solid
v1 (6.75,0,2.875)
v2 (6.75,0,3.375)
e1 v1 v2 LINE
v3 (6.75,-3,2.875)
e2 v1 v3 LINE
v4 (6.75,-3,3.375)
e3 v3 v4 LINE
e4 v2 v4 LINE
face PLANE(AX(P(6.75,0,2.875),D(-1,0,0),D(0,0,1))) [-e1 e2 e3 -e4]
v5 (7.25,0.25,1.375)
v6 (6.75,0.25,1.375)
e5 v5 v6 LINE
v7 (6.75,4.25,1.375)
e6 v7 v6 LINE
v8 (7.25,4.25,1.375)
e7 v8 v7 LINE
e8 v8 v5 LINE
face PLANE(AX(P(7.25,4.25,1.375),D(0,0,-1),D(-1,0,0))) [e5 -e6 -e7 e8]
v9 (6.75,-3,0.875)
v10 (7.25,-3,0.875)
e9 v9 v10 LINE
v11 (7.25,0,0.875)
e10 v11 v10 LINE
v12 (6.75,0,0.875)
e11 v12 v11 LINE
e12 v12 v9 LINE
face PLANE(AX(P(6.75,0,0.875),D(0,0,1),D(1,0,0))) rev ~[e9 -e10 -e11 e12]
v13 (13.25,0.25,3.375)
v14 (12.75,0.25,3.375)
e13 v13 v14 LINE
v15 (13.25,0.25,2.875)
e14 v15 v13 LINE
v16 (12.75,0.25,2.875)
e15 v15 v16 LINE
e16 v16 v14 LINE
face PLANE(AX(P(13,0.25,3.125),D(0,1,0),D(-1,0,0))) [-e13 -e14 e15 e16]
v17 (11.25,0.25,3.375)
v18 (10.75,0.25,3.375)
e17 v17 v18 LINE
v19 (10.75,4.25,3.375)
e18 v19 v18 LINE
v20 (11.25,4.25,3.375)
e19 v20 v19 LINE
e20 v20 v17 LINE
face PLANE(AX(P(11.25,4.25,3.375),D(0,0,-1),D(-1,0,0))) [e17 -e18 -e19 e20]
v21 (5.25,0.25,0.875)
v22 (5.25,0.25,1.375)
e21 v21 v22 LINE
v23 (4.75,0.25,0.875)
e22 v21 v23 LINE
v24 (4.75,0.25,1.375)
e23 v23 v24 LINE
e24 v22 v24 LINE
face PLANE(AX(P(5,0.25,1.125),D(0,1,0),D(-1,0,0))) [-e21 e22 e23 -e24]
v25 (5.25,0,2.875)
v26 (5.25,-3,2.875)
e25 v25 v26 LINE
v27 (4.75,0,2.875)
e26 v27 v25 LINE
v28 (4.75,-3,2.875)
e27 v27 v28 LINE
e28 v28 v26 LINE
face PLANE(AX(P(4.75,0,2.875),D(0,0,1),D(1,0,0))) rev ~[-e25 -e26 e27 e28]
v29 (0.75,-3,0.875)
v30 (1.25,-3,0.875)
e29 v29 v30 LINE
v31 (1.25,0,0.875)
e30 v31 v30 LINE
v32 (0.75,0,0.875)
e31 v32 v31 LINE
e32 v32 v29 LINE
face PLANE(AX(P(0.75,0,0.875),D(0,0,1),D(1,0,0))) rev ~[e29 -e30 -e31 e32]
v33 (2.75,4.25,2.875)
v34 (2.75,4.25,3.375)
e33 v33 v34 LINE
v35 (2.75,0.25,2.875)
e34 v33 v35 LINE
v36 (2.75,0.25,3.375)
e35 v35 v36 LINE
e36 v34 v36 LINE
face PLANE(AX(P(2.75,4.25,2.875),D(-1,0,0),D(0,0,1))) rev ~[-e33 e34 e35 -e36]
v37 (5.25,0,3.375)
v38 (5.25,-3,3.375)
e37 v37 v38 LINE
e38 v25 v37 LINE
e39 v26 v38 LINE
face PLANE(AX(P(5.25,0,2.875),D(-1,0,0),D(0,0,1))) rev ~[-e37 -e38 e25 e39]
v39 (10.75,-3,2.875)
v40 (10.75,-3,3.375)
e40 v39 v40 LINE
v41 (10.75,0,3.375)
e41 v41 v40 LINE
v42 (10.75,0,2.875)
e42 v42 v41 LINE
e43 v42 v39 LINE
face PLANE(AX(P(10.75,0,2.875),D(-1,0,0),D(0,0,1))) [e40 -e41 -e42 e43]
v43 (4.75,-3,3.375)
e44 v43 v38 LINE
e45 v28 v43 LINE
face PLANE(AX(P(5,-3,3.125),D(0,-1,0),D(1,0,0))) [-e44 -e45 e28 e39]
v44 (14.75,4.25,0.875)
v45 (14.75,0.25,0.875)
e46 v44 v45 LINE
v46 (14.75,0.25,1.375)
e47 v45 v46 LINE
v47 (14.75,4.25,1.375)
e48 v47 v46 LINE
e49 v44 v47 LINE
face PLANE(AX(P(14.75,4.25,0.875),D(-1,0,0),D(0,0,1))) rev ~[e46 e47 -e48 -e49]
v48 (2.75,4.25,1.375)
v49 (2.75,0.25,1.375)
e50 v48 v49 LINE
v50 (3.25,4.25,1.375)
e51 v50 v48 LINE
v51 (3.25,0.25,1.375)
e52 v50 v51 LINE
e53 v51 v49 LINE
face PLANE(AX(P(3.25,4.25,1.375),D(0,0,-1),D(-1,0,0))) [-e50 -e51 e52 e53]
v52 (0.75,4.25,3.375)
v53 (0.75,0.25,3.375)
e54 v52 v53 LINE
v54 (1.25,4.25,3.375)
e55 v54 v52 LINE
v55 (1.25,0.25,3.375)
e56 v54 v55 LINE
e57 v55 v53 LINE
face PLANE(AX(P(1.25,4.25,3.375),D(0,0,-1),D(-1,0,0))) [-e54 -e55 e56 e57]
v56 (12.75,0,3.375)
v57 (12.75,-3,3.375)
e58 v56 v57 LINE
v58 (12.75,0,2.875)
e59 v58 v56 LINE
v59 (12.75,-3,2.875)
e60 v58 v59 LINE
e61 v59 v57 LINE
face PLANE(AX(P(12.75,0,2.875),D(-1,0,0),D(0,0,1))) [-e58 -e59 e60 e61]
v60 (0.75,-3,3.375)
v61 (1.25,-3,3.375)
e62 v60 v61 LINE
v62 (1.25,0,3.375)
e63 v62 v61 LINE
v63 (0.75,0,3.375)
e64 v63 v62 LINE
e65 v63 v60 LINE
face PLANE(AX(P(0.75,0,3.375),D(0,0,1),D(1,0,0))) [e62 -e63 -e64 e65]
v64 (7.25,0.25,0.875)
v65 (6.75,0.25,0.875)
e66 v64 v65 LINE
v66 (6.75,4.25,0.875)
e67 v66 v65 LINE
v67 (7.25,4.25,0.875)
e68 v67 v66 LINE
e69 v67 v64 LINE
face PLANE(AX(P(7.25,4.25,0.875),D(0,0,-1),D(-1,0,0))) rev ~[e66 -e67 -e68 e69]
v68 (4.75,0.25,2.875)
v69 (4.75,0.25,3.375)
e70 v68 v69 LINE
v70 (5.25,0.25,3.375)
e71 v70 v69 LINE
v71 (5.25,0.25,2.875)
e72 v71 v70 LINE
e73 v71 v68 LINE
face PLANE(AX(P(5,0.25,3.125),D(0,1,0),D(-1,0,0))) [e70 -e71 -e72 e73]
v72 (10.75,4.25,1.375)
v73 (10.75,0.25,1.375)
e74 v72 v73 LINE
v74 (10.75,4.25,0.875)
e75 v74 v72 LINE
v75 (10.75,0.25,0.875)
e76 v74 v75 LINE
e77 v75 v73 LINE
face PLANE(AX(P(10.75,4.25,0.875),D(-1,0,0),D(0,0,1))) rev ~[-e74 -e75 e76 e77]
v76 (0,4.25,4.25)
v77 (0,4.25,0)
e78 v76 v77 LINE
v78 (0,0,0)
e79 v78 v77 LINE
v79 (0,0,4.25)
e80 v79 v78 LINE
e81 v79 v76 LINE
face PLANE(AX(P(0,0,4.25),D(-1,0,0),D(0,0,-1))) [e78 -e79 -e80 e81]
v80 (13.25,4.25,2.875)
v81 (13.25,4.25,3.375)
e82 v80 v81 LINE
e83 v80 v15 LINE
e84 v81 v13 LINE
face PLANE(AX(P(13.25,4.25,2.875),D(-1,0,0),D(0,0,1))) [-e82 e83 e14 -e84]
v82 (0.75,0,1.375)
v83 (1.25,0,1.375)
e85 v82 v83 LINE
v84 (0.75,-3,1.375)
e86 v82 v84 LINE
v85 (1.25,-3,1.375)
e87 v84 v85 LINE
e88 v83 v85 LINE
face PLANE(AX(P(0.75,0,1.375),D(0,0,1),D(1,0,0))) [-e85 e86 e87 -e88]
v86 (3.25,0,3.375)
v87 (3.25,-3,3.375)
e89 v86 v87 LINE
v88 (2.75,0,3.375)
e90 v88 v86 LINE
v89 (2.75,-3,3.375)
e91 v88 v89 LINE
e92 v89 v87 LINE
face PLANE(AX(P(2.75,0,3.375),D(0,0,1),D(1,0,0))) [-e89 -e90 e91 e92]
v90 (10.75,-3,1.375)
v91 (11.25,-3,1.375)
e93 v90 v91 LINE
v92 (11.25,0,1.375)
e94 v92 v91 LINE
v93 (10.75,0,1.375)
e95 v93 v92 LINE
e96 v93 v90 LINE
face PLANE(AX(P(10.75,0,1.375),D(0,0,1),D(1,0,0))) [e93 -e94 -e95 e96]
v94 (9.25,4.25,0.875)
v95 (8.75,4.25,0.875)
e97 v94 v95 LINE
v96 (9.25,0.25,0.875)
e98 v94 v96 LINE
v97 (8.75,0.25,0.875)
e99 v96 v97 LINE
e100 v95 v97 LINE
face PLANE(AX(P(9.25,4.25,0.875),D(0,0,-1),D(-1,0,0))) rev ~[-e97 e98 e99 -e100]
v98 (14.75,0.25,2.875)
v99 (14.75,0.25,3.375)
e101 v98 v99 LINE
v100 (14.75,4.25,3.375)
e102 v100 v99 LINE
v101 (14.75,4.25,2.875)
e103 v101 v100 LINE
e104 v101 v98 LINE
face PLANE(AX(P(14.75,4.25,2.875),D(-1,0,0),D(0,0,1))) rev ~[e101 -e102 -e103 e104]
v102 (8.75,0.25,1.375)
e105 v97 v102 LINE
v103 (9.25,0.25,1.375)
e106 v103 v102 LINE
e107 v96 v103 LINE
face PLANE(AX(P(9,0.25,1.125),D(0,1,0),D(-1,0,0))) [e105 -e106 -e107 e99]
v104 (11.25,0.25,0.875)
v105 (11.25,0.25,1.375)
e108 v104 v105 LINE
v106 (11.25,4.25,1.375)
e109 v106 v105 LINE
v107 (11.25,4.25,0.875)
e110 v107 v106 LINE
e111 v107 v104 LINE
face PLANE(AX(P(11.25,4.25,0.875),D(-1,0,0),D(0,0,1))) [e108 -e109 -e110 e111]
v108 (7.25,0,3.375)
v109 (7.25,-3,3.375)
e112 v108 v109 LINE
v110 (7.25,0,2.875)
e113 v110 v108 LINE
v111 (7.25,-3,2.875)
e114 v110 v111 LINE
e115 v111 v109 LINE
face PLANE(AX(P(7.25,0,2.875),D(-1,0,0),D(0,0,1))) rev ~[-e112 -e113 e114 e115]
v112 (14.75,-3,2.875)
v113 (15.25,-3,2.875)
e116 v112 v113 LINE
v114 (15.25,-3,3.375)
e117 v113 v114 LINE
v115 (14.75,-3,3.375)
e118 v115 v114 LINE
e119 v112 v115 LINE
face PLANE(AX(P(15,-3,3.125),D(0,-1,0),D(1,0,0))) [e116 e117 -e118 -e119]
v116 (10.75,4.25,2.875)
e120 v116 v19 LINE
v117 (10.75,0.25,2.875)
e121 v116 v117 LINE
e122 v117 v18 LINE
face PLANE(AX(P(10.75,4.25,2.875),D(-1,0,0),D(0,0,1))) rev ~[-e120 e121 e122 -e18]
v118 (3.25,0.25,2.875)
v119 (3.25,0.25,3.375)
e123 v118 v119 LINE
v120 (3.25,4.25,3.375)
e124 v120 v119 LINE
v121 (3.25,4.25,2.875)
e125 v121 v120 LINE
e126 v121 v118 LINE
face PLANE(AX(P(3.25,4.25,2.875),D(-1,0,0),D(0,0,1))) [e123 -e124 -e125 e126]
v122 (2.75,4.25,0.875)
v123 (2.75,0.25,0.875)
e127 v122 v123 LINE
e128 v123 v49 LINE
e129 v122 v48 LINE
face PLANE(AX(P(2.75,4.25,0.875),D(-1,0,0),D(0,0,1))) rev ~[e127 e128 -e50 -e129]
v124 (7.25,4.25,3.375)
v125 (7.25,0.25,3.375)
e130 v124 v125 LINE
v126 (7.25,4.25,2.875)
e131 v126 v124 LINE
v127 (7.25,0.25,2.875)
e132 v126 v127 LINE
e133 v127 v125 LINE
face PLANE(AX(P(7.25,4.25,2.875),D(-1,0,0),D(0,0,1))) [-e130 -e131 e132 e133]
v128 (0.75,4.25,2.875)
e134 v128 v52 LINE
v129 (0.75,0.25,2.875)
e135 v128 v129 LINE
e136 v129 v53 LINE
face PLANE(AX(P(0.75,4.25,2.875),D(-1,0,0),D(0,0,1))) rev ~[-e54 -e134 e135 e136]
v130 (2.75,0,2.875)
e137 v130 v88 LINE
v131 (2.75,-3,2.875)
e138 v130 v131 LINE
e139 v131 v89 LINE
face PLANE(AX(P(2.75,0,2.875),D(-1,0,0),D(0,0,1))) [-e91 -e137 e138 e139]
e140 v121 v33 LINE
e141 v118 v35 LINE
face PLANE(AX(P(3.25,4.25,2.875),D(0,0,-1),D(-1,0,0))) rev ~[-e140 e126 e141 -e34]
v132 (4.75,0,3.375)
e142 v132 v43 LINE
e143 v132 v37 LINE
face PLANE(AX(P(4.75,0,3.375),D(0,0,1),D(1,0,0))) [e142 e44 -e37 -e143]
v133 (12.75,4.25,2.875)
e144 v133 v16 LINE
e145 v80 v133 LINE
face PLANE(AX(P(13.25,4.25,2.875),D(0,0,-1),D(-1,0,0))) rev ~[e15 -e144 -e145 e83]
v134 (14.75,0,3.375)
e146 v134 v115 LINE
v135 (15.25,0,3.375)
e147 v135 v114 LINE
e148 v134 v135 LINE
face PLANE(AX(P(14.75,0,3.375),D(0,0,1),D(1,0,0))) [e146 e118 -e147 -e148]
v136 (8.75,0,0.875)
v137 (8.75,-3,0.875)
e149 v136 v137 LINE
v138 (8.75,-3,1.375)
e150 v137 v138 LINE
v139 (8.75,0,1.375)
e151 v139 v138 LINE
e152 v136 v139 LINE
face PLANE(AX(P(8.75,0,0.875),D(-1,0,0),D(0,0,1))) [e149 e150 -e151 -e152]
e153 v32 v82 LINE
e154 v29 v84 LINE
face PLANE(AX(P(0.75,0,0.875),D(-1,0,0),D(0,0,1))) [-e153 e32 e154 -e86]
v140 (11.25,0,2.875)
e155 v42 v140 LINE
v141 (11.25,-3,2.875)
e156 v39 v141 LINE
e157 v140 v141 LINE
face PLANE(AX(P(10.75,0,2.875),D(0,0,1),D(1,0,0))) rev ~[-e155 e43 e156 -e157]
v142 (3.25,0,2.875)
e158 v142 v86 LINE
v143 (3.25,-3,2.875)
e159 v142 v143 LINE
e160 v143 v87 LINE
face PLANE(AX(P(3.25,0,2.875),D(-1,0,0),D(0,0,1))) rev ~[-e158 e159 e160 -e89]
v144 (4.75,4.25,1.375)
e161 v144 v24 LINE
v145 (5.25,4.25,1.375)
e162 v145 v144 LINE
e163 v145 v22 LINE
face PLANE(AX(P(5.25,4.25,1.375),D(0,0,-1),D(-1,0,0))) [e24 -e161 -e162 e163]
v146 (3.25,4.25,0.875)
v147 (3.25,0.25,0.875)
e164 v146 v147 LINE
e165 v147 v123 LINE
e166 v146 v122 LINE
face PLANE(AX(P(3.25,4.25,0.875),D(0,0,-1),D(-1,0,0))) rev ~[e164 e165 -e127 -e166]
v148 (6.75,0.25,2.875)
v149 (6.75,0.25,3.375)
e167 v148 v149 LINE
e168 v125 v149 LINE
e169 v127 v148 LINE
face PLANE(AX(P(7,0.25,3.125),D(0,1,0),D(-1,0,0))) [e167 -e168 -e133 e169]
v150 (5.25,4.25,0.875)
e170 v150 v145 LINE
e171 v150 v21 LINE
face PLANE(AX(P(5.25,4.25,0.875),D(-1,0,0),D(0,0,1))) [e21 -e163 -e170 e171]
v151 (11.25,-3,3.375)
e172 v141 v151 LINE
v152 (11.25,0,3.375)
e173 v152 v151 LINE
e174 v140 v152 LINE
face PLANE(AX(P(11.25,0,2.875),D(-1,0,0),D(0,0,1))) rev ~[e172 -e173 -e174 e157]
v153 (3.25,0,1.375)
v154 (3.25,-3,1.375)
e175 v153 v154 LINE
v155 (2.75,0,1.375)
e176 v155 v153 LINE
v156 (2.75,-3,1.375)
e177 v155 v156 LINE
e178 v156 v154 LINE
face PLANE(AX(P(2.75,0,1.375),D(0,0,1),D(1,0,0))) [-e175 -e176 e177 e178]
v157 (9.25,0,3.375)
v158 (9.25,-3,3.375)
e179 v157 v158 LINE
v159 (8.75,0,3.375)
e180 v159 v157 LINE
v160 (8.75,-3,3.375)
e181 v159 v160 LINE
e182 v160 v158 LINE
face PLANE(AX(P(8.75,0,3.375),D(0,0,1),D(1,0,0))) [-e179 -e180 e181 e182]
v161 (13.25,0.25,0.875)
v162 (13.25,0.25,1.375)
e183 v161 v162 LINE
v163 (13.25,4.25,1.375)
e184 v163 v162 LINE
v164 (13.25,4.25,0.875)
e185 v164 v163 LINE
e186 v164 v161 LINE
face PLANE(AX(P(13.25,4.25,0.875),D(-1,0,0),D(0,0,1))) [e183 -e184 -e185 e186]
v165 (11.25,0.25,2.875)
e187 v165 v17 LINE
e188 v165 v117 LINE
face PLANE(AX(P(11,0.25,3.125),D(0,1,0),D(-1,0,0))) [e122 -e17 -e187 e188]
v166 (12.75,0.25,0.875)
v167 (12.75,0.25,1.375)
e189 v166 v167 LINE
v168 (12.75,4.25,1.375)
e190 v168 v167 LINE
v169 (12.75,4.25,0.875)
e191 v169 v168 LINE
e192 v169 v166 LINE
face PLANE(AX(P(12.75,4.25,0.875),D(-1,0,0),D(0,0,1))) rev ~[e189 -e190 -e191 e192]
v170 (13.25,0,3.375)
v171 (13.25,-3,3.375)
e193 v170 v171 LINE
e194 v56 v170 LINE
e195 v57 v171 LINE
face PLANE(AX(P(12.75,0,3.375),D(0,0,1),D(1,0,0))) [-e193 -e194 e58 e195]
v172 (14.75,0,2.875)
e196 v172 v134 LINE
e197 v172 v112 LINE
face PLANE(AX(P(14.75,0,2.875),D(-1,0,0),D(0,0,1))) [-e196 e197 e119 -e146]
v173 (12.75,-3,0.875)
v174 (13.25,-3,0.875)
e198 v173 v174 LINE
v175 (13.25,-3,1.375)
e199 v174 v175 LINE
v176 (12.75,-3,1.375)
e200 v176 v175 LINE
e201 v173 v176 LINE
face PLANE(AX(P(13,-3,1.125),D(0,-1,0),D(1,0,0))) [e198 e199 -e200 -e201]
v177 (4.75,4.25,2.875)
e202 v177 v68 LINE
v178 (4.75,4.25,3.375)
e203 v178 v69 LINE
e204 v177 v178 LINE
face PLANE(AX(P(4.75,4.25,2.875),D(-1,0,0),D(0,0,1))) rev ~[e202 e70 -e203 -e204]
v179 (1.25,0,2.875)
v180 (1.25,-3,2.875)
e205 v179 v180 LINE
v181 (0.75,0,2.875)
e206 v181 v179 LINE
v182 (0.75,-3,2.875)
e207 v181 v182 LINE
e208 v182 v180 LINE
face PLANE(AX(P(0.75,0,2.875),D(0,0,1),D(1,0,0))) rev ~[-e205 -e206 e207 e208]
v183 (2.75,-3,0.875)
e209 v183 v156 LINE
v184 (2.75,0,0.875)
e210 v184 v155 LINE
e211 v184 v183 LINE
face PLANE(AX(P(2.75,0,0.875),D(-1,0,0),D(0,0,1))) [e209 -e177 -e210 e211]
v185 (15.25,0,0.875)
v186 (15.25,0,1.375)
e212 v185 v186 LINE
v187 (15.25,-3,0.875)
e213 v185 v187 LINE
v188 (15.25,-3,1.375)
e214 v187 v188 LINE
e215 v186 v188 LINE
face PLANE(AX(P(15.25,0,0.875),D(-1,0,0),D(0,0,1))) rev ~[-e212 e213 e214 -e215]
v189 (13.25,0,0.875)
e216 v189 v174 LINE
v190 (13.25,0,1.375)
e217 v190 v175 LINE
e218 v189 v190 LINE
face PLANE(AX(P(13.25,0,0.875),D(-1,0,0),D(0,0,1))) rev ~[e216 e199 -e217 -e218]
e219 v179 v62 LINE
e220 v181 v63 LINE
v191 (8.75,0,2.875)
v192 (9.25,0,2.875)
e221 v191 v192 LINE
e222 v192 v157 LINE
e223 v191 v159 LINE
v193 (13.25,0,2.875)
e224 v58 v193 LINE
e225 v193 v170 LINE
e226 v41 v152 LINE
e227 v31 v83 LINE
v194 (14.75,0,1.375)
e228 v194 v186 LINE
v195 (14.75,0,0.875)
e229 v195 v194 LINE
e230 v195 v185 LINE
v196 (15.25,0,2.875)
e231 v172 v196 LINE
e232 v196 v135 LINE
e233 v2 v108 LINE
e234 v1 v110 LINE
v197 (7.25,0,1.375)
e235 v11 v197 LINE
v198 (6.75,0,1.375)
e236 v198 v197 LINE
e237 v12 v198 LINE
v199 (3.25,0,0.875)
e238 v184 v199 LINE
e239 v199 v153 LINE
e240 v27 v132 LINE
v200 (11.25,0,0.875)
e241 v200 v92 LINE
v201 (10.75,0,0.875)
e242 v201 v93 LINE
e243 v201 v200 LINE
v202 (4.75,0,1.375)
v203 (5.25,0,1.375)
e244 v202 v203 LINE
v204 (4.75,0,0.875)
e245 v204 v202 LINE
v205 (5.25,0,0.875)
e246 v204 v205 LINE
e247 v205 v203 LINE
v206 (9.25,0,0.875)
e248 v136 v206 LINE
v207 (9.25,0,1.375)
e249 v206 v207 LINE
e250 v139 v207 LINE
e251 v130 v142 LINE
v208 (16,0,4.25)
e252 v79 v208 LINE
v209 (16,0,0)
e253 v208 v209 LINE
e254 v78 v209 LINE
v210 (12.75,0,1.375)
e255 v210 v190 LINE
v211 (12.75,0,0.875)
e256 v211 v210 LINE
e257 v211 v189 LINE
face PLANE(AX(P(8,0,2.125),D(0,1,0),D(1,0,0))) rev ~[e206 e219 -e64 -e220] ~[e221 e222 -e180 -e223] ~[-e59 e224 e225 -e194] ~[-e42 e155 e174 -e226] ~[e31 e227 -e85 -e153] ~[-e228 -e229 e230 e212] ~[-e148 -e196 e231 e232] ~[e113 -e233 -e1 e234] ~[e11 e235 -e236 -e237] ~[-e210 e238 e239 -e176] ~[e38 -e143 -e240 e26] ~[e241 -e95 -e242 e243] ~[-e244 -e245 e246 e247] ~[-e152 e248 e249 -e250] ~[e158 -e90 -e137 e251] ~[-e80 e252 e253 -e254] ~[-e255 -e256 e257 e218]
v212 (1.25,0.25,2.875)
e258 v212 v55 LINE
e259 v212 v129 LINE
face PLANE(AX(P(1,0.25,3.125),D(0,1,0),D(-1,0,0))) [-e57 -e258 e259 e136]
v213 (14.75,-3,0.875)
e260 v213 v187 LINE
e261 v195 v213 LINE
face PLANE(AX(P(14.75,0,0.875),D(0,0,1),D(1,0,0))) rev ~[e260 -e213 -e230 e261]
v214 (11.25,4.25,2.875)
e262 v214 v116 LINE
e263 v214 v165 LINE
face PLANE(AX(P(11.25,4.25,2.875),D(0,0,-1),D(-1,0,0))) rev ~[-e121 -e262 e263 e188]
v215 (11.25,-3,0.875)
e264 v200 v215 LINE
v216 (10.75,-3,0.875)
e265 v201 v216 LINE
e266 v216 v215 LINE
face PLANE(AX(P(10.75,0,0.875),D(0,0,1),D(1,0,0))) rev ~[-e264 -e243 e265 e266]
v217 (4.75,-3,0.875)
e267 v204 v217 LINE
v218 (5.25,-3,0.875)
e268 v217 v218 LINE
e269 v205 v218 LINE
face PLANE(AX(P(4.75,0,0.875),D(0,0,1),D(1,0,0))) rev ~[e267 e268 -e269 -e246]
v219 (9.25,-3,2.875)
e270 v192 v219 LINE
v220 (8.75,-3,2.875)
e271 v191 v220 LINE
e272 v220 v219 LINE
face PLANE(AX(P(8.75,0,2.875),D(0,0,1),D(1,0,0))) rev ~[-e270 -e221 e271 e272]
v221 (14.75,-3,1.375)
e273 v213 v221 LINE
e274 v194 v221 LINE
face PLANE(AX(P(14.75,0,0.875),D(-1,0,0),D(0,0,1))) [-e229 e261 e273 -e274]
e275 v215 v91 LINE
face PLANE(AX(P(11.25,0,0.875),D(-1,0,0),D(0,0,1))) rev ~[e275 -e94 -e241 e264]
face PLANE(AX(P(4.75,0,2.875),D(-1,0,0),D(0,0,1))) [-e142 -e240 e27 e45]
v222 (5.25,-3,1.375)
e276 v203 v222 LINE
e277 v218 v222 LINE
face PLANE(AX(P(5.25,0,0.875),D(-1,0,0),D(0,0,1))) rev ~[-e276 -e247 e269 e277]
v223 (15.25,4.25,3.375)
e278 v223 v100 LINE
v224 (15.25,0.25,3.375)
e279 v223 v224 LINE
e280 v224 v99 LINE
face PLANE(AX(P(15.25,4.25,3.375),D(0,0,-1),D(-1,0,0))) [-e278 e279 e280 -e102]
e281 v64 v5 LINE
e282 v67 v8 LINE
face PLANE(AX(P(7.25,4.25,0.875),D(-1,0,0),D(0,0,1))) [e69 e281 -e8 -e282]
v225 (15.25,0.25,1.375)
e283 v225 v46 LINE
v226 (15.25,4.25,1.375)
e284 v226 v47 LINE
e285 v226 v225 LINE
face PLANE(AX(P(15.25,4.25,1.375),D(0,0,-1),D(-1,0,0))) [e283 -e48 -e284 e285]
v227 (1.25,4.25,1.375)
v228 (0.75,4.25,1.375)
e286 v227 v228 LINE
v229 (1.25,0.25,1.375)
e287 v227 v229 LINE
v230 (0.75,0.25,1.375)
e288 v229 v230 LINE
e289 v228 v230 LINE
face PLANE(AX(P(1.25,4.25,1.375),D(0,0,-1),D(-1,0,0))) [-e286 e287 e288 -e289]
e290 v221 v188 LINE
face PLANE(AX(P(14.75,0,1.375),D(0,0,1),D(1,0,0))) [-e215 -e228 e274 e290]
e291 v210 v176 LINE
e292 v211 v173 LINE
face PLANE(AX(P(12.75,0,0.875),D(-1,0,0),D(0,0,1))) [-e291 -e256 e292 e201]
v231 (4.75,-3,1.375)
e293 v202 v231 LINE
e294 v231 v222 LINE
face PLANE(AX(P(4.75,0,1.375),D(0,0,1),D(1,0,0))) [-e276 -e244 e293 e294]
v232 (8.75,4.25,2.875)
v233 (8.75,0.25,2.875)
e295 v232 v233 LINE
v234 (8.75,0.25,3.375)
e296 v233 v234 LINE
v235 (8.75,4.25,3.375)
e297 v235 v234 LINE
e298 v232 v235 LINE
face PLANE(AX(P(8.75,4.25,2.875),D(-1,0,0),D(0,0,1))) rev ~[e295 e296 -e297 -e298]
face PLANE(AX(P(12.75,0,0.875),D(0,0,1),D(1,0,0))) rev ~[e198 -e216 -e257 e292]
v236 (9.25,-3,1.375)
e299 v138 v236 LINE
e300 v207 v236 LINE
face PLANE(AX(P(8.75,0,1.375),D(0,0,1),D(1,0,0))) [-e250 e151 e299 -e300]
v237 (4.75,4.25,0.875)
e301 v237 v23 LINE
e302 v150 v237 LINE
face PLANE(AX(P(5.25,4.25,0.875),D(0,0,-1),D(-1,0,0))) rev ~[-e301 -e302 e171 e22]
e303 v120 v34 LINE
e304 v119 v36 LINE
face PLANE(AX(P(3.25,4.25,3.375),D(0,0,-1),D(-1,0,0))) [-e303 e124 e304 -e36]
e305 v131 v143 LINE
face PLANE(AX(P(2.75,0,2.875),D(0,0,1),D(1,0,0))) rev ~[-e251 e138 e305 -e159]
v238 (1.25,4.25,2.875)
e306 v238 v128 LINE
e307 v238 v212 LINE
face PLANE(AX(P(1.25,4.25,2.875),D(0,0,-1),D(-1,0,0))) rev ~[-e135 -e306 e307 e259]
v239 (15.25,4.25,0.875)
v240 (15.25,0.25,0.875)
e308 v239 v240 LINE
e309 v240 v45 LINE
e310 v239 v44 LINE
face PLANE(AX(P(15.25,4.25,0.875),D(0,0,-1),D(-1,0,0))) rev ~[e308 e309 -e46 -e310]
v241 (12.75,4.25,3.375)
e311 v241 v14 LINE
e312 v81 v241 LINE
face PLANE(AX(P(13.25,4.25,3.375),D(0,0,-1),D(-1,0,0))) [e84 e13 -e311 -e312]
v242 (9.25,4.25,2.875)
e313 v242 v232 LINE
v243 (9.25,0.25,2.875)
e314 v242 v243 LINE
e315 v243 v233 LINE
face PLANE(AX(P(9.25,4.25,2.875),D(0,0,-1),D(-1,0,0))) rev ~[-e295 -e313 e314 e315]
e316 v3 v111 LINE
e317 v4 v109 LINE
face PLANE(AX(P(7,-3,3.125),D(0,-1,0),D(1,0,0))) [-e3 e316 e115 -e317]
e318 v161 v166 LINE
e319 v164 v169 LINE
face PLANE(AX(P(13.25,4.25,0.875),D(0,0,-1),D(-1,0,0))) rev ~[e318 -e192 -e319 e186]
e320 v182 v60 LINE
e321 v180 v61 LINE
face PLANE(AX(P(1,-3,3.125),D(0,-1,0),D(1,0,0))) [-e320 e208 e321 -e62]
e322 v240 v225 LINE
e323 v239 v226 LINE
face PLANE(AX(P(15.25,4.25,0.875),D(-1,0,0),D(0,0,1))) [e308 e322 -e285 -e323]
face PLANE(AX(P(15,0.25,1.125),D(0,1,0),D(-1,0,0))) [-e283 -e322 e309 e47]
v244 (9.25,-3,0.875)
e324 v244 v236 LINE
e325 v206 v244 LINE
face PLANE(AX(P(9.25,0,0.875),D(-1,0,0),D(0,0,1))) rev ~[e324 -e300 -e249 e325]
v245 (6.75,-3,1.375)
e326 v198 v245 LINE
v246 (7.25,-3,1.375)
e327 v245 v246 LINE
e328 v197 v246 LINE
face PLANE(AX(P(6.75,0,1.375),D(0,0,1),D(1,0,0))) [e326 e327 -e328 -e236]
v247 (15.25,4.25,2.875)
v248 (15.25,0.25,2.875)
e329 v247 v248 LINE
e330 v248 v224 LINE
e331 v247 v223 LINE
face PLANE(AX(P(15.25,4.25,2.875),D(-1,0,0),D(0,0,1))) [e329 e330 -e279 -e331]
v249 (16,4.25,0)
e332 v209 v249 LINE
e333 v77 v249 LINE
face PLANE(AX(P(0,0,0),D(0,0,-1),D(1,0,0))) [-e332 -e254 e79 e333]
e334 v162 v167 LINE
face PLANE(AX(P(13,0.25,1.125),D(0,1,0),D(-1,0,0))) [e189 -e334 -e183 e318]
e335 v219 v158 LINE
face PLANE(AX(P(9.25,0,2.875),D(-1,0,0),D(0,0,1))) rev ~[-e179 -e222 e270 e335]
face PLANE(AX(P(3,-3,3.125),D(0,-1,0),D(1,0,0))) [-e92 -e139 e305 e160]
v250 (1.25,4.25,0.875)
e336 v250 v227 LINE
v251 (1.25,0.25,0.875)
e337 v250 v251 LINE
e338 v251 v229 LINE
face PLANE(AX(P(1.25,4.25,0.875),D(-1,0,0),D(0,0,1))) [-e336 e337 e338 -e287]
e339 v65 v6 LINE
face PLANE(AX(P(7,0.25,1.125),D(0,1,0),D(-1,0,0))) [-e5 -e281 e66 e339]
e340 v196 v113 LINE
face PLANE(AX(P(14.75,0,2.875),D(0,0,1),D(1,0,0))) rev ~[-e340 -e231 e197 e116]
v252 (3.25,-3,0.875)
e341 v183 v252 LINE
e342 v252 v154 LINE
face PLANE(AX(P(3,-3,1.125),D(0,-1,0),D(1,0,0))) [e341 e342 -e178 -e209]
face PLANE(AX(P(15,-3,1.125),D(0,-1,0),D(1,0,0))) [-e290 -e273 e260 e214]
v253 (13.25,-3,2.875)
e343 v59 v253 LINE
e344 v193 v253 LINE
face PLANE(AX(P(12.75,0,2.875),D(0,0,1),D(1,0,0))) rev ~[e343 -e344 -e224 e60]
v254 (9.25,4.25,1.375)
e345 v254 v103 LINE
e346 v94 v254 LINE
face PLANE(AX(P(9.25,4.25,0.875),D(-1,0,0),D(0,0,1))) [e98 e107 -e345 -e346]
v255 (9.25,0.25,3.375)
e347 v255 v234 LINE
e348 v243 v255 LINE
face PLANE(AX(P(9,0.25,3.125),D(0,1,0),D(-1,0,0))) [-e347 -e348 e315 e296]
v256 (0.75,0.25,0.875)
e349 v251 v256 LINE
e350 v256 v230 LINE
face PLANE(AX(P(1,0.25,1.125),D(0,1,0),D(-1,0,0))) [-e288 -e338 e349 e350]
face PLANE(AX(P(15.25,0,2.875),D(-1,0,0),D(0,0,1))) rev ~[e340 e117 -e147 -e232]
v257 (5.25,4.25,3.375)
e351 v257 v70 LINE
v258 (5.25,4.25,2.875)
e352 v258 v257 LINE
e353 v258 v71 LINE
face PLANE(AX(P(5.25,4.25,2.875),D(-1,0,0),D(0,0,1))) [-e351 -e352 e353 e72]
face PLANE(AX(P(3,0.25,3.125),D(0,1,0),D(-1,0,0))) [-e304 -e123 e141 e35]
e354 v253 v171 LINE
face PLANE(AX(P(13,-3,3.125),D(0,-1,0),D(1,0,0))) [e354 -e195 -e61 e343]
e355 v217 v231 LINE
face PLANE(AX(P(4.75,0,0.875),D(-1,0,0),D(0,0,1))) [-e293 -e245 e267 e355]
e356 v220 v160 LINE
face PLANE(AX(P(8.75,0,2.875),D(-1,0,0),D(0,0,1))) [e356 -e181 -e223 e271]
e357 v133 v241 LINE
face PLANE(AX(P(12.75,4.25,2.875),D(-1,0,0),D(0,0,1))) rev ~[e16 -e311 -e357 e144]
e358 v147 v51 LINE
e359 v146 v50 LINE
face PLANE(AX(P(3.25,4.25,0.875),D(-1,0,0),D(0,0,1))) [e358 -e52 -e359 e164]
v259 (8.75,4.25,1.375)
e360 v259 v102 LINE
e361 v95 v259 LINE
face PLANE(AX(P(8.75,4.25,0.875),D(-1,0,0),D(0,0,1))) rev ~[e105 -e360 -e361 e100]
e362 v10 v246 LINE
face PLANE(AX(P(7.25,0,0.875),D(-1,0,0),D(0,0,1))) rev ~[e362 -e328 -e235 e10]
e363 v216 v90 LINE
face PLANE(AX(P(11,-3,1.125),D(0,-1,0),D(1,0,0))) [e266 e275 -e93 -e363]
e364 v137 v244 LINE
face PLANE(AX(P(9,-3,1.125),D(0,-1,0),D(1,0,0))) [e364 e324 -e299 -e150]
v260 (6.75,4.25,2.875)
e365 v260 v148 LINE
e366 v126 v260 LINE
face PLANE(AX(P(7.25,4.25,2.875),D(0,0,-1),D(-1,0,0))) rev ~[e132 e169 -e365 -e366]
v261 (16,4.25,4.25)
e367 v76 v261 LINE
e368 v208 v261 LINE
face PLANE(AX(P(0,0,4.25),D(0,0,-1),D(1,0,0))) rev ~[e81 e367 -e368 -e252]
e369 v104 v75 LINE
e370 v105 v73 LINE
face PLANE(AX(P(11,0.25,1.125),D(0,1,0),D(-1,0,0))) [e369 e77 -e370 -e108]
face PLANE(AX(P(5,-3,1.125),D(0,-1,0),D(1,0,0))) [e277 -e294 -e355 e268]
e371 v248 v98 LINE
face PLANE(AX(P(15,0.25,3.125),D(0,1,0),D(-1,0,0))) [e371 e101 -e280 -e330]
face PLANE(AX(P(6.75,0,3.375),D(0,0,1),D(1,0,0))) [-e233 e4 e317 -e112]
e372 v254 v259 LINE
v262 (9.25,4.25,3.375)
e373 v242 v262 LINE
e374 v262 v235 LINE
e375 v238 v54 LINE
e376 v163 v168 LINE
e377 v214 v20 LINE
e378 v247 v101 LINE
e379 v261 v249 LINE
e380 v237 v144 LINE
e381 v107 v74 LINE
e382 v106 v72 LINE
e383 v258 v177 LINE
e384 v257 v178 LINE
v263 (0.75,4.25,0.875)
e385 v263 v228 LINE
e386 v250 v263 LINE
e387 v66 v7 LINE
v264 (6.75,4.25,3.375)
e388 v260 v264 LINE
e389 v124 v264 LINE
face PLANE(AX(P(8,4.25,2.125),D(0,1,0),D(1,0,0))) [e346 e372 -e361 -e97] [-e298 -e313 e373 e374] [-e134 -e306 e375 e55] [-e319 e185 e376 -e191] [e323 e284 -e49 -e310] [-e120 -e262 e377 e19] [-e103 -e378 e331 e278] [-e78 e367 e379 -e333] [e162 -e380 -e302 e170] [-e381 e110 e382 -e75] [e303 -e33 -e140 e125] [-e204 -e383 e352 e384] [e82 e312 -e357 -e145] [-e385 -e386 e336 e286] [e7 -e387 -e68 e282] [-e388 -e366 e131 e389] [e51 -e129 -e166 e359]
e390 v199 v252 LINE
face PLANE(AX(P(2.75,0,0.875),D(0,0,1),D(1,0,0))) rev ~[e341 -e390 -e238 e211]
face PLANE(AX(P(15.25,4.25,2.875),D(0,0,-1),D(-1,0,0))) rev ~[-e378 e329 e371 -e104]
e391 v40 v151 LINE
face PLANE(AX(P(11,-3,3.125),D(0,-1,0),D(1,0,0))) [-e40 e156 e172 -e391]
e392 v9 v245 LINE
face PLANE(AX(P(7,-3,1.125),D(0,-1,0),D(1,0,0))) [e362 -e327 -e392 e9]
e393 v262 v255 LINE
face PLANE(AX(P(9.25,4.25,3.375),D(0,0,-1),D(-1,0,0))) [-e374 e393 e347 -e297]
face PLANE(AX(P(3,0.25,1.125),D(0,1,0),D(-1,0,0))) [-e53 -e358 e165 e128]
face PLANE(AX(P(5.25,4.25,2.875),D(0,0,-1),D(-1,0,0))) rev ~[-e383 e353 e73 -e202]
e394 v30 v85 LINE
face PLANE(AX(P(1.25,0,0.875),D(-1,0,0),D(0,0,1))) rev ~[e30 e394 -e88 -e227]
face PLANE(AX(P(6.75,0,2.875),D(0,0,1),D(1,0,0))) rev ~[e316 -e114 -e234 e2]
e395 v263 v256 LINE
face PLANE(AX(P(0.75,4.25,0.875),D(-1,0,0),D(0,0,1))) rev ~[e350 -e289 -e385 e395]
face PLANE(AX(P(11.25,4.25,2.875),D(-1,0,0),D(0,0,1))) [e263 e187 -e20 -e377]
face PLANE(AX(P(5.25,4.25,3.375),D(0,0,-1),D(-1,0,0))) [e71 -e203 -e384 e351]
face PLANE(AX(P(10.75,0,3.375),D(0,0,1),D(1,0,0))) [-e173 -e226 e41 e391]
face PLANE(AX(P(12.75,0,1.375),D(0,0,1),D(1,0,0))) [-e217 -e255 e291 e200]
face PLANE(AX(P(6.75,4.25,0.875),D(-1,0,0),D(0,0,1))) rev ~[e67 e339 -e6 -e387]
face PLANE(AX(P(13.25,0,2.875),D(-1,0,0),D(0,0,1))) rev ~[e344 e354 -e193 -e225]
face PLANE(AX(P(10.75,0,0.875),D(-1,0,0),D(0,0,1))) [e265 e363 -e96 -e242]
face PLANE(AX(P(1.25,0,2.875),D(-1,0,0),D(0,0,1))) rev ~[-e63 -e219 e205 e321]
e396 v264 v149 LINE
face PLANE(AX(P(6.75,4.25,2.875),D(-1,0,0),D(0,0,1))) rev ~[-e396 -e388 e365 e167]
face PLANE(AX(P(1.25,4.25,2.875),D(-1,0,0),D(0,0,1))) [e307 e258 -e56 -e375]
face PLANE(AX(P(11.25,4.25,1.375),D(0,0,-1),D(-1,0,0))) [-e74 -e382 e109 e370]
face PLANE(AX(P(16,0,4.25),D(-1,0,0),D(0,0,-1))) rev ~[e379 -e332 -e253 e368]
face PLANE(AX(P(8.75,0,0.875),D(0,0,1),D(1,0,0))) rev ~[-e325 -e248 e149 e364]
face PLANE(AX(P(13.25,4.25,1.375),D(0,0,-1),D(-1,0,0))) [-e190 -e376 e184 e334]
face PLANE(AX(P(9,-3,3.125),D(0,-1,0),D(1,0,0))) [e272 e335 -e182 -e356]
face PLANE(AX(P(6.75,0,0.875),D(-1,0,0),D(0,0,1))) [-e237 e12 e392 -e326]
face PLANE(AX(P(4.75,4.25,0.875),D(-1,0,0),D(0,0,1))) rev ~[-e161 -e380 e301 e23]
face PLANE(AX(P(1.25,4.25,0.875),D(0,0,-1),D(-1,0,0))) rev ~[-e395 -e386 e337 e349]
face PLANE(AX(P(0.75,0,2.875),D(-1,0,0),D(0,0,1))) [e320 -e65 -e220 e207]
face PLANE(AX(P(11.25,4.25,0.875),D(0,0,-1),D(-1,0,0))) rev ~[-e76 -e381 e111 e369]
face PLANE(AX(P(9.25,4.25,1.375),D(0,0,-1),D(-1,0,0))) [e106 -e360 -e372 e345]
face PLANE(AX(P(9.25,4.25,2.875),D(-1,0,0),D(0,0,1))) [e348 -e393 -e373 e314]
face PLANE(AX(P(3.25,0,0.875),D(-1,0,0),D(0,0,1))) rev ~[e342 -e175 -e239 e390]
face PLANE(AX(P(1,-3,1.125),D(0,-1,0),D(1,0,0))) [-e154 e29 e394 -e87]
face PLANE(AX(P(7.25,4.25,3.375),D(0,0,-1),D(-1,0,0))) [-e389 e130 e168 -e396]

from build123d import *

# Parameters (mm, degrees)
SKETCH1_W           = 16
SKETCH1_H           = 4.25
BOSS_EXTRUDE1_DEPTH = 4.25
SKETCH3_W           = 0.5
SKETCH3_H           = 0.5
BOSS_EXTRUDE2_DEPTH = 3
SKETCH4_W           = 0.5
SKETCH4_H           = 0.5
CUT_EXTRUDE1_DEPTH  = 4


with BuildPart() as part:
    # Sketch1 → Boss-Extrude1 (new body)
    with BuildSketch(Plane(origin=(0, 0, 0), x_dir=(1, 0, 0), z_dir=(0, 1, 0))):
        with Locations((8, -2.125)):
            Rectangle(SKETCH1_W, SKETCH1_H)
    extrude(amount=BOSS_EXTRUDE1_DEPTH)

    # Sketch3 → Boss-Extrude2 (add)
    with BuildSketch(Plane.XZ):
        with Locations((3, 1.125)):
            Rectangle(SKETCH3_W, SKETCH3_H)
        with Locations((1, 1.125)):
            Rectangle(SKETCH3_W, SKETCH3_H)
        with Locations((5, 1.125)):
            Rectangle(SKETCH3_W, SKETCH3_H)
        with Locations((7, 1.125)):
            Rectangle(SKETCH3_W, SKETCH3_H)
        with Locations((9, 1.125)):
            Rectangle(SKETCH3_W, SKETCH3_H)
        with Locations((11, 1.125)):
            Rectangle(SKETCH3_W, SKETCH3_H)
        with Locations((13, 1.125)):
            Rectangle(SKETCH3_W, SKETCH3_H)
        with Locations((15, 1.125)):
            Rectangle(SKETCH3_W, SKETCH3_H)
        with Locations((1, 3.125)):
            Rectangle(SKETCH3_W, SKETCH3_H)
        with Locations((3, 3.125)):
            Rectangle(SKETCH3_W, SKETCH3_H)
        with Locations((5, 3.125)):
            Rectangle(SKETCH3_W, SKETCH3_H)
        with Locations((7, 3.125)):
            Rectangle(SKETCH3_W, SKETCH3_H)
        with Locations((9, 3.125)):
            Rectangle(SKETCH3_W, SKETCH3_H)
        with Locations((11, 3.125)):
            Rectangle(SKETCH3_W, SKETCH3_H)
        with Locations((13, 3.125)):
            Rectangle(SKETCH3_W, SKETCH3_H)
        with Locations((15, 3.125)):
            Rectangle(SKETCH3_W, SKETCH3_H)
    extrude(amount=BOSS_EXTRUDE2_DEPTH)

    # Sketch4 → Cut-Extrude1 (cut)
    with BuildSketch(Plane(origin=(0, 4.25, 0), x_dir=(-1, 0, 0), z_dir=(0, 1, 0))):
        with Locations((-15, 1.125)):
            Rectangle(SKETCH4_W, SKETCH4_H)
        with Locations((-13, 1.125)):
            Rectangle(SKETCH4_W, SKETCH4_H)
        with Locations((-11, 1.125)):
            Rectangle(SKETCH4_W, SKETCH4_H)
        with Locations((-9, 1.125)):
            Rectangle(SKETCH4_W, SKETCH4_H)
        with Locations((-7, 1.125)):
            Rectangle(SKETCH4_W, SKETCH4_H)
        with Locations((-5, 1.125)):
            Rectangle(SKETCH4_W, SKETCH4_H)
        with Locations((-3, 1.125)):
            Rectangle(SKETCH4_W, SKETCH4_H)
        with Locations((-1, 1.125)):
            Rectangle(SKETCH4_W, SKETCH4_H)
        with Locations((-15, 3.125)):
            Rectangle(SKETCH4_W, SKETCH4_H)
        with Locations((-13, 3.125)):
            Rectangle(SKETCH4_W, SKETCH4_H)
        with Locations((-11, 3.125)):
            Rectangle(SKETCH4_W, SKETCH4_H)
        with Locations((-9, 3.125)):
            Rectangle(SKETCH4_W, SKETCH4_H)
        with Locations((-7, 3.125)):
            Rectangle(SKETCH4_W, SKETCH4_H)
        with Locations((-5, 3.125)):
            Rectangle(SKETCH4_W, SKETCH4_H)
        with Locations((-3, 3.125)):
            Rectangle(SKETCH4_W, SKETCH4_H)
        with Locations((-1, 3.125)):
            Rectangle(SKETCH4_W, SKETCH4_H)
    extrude(amount=-CUT_EXTRUDE1_DEPTH, mode=Mode.SUBTRACT)


solid = part.part
